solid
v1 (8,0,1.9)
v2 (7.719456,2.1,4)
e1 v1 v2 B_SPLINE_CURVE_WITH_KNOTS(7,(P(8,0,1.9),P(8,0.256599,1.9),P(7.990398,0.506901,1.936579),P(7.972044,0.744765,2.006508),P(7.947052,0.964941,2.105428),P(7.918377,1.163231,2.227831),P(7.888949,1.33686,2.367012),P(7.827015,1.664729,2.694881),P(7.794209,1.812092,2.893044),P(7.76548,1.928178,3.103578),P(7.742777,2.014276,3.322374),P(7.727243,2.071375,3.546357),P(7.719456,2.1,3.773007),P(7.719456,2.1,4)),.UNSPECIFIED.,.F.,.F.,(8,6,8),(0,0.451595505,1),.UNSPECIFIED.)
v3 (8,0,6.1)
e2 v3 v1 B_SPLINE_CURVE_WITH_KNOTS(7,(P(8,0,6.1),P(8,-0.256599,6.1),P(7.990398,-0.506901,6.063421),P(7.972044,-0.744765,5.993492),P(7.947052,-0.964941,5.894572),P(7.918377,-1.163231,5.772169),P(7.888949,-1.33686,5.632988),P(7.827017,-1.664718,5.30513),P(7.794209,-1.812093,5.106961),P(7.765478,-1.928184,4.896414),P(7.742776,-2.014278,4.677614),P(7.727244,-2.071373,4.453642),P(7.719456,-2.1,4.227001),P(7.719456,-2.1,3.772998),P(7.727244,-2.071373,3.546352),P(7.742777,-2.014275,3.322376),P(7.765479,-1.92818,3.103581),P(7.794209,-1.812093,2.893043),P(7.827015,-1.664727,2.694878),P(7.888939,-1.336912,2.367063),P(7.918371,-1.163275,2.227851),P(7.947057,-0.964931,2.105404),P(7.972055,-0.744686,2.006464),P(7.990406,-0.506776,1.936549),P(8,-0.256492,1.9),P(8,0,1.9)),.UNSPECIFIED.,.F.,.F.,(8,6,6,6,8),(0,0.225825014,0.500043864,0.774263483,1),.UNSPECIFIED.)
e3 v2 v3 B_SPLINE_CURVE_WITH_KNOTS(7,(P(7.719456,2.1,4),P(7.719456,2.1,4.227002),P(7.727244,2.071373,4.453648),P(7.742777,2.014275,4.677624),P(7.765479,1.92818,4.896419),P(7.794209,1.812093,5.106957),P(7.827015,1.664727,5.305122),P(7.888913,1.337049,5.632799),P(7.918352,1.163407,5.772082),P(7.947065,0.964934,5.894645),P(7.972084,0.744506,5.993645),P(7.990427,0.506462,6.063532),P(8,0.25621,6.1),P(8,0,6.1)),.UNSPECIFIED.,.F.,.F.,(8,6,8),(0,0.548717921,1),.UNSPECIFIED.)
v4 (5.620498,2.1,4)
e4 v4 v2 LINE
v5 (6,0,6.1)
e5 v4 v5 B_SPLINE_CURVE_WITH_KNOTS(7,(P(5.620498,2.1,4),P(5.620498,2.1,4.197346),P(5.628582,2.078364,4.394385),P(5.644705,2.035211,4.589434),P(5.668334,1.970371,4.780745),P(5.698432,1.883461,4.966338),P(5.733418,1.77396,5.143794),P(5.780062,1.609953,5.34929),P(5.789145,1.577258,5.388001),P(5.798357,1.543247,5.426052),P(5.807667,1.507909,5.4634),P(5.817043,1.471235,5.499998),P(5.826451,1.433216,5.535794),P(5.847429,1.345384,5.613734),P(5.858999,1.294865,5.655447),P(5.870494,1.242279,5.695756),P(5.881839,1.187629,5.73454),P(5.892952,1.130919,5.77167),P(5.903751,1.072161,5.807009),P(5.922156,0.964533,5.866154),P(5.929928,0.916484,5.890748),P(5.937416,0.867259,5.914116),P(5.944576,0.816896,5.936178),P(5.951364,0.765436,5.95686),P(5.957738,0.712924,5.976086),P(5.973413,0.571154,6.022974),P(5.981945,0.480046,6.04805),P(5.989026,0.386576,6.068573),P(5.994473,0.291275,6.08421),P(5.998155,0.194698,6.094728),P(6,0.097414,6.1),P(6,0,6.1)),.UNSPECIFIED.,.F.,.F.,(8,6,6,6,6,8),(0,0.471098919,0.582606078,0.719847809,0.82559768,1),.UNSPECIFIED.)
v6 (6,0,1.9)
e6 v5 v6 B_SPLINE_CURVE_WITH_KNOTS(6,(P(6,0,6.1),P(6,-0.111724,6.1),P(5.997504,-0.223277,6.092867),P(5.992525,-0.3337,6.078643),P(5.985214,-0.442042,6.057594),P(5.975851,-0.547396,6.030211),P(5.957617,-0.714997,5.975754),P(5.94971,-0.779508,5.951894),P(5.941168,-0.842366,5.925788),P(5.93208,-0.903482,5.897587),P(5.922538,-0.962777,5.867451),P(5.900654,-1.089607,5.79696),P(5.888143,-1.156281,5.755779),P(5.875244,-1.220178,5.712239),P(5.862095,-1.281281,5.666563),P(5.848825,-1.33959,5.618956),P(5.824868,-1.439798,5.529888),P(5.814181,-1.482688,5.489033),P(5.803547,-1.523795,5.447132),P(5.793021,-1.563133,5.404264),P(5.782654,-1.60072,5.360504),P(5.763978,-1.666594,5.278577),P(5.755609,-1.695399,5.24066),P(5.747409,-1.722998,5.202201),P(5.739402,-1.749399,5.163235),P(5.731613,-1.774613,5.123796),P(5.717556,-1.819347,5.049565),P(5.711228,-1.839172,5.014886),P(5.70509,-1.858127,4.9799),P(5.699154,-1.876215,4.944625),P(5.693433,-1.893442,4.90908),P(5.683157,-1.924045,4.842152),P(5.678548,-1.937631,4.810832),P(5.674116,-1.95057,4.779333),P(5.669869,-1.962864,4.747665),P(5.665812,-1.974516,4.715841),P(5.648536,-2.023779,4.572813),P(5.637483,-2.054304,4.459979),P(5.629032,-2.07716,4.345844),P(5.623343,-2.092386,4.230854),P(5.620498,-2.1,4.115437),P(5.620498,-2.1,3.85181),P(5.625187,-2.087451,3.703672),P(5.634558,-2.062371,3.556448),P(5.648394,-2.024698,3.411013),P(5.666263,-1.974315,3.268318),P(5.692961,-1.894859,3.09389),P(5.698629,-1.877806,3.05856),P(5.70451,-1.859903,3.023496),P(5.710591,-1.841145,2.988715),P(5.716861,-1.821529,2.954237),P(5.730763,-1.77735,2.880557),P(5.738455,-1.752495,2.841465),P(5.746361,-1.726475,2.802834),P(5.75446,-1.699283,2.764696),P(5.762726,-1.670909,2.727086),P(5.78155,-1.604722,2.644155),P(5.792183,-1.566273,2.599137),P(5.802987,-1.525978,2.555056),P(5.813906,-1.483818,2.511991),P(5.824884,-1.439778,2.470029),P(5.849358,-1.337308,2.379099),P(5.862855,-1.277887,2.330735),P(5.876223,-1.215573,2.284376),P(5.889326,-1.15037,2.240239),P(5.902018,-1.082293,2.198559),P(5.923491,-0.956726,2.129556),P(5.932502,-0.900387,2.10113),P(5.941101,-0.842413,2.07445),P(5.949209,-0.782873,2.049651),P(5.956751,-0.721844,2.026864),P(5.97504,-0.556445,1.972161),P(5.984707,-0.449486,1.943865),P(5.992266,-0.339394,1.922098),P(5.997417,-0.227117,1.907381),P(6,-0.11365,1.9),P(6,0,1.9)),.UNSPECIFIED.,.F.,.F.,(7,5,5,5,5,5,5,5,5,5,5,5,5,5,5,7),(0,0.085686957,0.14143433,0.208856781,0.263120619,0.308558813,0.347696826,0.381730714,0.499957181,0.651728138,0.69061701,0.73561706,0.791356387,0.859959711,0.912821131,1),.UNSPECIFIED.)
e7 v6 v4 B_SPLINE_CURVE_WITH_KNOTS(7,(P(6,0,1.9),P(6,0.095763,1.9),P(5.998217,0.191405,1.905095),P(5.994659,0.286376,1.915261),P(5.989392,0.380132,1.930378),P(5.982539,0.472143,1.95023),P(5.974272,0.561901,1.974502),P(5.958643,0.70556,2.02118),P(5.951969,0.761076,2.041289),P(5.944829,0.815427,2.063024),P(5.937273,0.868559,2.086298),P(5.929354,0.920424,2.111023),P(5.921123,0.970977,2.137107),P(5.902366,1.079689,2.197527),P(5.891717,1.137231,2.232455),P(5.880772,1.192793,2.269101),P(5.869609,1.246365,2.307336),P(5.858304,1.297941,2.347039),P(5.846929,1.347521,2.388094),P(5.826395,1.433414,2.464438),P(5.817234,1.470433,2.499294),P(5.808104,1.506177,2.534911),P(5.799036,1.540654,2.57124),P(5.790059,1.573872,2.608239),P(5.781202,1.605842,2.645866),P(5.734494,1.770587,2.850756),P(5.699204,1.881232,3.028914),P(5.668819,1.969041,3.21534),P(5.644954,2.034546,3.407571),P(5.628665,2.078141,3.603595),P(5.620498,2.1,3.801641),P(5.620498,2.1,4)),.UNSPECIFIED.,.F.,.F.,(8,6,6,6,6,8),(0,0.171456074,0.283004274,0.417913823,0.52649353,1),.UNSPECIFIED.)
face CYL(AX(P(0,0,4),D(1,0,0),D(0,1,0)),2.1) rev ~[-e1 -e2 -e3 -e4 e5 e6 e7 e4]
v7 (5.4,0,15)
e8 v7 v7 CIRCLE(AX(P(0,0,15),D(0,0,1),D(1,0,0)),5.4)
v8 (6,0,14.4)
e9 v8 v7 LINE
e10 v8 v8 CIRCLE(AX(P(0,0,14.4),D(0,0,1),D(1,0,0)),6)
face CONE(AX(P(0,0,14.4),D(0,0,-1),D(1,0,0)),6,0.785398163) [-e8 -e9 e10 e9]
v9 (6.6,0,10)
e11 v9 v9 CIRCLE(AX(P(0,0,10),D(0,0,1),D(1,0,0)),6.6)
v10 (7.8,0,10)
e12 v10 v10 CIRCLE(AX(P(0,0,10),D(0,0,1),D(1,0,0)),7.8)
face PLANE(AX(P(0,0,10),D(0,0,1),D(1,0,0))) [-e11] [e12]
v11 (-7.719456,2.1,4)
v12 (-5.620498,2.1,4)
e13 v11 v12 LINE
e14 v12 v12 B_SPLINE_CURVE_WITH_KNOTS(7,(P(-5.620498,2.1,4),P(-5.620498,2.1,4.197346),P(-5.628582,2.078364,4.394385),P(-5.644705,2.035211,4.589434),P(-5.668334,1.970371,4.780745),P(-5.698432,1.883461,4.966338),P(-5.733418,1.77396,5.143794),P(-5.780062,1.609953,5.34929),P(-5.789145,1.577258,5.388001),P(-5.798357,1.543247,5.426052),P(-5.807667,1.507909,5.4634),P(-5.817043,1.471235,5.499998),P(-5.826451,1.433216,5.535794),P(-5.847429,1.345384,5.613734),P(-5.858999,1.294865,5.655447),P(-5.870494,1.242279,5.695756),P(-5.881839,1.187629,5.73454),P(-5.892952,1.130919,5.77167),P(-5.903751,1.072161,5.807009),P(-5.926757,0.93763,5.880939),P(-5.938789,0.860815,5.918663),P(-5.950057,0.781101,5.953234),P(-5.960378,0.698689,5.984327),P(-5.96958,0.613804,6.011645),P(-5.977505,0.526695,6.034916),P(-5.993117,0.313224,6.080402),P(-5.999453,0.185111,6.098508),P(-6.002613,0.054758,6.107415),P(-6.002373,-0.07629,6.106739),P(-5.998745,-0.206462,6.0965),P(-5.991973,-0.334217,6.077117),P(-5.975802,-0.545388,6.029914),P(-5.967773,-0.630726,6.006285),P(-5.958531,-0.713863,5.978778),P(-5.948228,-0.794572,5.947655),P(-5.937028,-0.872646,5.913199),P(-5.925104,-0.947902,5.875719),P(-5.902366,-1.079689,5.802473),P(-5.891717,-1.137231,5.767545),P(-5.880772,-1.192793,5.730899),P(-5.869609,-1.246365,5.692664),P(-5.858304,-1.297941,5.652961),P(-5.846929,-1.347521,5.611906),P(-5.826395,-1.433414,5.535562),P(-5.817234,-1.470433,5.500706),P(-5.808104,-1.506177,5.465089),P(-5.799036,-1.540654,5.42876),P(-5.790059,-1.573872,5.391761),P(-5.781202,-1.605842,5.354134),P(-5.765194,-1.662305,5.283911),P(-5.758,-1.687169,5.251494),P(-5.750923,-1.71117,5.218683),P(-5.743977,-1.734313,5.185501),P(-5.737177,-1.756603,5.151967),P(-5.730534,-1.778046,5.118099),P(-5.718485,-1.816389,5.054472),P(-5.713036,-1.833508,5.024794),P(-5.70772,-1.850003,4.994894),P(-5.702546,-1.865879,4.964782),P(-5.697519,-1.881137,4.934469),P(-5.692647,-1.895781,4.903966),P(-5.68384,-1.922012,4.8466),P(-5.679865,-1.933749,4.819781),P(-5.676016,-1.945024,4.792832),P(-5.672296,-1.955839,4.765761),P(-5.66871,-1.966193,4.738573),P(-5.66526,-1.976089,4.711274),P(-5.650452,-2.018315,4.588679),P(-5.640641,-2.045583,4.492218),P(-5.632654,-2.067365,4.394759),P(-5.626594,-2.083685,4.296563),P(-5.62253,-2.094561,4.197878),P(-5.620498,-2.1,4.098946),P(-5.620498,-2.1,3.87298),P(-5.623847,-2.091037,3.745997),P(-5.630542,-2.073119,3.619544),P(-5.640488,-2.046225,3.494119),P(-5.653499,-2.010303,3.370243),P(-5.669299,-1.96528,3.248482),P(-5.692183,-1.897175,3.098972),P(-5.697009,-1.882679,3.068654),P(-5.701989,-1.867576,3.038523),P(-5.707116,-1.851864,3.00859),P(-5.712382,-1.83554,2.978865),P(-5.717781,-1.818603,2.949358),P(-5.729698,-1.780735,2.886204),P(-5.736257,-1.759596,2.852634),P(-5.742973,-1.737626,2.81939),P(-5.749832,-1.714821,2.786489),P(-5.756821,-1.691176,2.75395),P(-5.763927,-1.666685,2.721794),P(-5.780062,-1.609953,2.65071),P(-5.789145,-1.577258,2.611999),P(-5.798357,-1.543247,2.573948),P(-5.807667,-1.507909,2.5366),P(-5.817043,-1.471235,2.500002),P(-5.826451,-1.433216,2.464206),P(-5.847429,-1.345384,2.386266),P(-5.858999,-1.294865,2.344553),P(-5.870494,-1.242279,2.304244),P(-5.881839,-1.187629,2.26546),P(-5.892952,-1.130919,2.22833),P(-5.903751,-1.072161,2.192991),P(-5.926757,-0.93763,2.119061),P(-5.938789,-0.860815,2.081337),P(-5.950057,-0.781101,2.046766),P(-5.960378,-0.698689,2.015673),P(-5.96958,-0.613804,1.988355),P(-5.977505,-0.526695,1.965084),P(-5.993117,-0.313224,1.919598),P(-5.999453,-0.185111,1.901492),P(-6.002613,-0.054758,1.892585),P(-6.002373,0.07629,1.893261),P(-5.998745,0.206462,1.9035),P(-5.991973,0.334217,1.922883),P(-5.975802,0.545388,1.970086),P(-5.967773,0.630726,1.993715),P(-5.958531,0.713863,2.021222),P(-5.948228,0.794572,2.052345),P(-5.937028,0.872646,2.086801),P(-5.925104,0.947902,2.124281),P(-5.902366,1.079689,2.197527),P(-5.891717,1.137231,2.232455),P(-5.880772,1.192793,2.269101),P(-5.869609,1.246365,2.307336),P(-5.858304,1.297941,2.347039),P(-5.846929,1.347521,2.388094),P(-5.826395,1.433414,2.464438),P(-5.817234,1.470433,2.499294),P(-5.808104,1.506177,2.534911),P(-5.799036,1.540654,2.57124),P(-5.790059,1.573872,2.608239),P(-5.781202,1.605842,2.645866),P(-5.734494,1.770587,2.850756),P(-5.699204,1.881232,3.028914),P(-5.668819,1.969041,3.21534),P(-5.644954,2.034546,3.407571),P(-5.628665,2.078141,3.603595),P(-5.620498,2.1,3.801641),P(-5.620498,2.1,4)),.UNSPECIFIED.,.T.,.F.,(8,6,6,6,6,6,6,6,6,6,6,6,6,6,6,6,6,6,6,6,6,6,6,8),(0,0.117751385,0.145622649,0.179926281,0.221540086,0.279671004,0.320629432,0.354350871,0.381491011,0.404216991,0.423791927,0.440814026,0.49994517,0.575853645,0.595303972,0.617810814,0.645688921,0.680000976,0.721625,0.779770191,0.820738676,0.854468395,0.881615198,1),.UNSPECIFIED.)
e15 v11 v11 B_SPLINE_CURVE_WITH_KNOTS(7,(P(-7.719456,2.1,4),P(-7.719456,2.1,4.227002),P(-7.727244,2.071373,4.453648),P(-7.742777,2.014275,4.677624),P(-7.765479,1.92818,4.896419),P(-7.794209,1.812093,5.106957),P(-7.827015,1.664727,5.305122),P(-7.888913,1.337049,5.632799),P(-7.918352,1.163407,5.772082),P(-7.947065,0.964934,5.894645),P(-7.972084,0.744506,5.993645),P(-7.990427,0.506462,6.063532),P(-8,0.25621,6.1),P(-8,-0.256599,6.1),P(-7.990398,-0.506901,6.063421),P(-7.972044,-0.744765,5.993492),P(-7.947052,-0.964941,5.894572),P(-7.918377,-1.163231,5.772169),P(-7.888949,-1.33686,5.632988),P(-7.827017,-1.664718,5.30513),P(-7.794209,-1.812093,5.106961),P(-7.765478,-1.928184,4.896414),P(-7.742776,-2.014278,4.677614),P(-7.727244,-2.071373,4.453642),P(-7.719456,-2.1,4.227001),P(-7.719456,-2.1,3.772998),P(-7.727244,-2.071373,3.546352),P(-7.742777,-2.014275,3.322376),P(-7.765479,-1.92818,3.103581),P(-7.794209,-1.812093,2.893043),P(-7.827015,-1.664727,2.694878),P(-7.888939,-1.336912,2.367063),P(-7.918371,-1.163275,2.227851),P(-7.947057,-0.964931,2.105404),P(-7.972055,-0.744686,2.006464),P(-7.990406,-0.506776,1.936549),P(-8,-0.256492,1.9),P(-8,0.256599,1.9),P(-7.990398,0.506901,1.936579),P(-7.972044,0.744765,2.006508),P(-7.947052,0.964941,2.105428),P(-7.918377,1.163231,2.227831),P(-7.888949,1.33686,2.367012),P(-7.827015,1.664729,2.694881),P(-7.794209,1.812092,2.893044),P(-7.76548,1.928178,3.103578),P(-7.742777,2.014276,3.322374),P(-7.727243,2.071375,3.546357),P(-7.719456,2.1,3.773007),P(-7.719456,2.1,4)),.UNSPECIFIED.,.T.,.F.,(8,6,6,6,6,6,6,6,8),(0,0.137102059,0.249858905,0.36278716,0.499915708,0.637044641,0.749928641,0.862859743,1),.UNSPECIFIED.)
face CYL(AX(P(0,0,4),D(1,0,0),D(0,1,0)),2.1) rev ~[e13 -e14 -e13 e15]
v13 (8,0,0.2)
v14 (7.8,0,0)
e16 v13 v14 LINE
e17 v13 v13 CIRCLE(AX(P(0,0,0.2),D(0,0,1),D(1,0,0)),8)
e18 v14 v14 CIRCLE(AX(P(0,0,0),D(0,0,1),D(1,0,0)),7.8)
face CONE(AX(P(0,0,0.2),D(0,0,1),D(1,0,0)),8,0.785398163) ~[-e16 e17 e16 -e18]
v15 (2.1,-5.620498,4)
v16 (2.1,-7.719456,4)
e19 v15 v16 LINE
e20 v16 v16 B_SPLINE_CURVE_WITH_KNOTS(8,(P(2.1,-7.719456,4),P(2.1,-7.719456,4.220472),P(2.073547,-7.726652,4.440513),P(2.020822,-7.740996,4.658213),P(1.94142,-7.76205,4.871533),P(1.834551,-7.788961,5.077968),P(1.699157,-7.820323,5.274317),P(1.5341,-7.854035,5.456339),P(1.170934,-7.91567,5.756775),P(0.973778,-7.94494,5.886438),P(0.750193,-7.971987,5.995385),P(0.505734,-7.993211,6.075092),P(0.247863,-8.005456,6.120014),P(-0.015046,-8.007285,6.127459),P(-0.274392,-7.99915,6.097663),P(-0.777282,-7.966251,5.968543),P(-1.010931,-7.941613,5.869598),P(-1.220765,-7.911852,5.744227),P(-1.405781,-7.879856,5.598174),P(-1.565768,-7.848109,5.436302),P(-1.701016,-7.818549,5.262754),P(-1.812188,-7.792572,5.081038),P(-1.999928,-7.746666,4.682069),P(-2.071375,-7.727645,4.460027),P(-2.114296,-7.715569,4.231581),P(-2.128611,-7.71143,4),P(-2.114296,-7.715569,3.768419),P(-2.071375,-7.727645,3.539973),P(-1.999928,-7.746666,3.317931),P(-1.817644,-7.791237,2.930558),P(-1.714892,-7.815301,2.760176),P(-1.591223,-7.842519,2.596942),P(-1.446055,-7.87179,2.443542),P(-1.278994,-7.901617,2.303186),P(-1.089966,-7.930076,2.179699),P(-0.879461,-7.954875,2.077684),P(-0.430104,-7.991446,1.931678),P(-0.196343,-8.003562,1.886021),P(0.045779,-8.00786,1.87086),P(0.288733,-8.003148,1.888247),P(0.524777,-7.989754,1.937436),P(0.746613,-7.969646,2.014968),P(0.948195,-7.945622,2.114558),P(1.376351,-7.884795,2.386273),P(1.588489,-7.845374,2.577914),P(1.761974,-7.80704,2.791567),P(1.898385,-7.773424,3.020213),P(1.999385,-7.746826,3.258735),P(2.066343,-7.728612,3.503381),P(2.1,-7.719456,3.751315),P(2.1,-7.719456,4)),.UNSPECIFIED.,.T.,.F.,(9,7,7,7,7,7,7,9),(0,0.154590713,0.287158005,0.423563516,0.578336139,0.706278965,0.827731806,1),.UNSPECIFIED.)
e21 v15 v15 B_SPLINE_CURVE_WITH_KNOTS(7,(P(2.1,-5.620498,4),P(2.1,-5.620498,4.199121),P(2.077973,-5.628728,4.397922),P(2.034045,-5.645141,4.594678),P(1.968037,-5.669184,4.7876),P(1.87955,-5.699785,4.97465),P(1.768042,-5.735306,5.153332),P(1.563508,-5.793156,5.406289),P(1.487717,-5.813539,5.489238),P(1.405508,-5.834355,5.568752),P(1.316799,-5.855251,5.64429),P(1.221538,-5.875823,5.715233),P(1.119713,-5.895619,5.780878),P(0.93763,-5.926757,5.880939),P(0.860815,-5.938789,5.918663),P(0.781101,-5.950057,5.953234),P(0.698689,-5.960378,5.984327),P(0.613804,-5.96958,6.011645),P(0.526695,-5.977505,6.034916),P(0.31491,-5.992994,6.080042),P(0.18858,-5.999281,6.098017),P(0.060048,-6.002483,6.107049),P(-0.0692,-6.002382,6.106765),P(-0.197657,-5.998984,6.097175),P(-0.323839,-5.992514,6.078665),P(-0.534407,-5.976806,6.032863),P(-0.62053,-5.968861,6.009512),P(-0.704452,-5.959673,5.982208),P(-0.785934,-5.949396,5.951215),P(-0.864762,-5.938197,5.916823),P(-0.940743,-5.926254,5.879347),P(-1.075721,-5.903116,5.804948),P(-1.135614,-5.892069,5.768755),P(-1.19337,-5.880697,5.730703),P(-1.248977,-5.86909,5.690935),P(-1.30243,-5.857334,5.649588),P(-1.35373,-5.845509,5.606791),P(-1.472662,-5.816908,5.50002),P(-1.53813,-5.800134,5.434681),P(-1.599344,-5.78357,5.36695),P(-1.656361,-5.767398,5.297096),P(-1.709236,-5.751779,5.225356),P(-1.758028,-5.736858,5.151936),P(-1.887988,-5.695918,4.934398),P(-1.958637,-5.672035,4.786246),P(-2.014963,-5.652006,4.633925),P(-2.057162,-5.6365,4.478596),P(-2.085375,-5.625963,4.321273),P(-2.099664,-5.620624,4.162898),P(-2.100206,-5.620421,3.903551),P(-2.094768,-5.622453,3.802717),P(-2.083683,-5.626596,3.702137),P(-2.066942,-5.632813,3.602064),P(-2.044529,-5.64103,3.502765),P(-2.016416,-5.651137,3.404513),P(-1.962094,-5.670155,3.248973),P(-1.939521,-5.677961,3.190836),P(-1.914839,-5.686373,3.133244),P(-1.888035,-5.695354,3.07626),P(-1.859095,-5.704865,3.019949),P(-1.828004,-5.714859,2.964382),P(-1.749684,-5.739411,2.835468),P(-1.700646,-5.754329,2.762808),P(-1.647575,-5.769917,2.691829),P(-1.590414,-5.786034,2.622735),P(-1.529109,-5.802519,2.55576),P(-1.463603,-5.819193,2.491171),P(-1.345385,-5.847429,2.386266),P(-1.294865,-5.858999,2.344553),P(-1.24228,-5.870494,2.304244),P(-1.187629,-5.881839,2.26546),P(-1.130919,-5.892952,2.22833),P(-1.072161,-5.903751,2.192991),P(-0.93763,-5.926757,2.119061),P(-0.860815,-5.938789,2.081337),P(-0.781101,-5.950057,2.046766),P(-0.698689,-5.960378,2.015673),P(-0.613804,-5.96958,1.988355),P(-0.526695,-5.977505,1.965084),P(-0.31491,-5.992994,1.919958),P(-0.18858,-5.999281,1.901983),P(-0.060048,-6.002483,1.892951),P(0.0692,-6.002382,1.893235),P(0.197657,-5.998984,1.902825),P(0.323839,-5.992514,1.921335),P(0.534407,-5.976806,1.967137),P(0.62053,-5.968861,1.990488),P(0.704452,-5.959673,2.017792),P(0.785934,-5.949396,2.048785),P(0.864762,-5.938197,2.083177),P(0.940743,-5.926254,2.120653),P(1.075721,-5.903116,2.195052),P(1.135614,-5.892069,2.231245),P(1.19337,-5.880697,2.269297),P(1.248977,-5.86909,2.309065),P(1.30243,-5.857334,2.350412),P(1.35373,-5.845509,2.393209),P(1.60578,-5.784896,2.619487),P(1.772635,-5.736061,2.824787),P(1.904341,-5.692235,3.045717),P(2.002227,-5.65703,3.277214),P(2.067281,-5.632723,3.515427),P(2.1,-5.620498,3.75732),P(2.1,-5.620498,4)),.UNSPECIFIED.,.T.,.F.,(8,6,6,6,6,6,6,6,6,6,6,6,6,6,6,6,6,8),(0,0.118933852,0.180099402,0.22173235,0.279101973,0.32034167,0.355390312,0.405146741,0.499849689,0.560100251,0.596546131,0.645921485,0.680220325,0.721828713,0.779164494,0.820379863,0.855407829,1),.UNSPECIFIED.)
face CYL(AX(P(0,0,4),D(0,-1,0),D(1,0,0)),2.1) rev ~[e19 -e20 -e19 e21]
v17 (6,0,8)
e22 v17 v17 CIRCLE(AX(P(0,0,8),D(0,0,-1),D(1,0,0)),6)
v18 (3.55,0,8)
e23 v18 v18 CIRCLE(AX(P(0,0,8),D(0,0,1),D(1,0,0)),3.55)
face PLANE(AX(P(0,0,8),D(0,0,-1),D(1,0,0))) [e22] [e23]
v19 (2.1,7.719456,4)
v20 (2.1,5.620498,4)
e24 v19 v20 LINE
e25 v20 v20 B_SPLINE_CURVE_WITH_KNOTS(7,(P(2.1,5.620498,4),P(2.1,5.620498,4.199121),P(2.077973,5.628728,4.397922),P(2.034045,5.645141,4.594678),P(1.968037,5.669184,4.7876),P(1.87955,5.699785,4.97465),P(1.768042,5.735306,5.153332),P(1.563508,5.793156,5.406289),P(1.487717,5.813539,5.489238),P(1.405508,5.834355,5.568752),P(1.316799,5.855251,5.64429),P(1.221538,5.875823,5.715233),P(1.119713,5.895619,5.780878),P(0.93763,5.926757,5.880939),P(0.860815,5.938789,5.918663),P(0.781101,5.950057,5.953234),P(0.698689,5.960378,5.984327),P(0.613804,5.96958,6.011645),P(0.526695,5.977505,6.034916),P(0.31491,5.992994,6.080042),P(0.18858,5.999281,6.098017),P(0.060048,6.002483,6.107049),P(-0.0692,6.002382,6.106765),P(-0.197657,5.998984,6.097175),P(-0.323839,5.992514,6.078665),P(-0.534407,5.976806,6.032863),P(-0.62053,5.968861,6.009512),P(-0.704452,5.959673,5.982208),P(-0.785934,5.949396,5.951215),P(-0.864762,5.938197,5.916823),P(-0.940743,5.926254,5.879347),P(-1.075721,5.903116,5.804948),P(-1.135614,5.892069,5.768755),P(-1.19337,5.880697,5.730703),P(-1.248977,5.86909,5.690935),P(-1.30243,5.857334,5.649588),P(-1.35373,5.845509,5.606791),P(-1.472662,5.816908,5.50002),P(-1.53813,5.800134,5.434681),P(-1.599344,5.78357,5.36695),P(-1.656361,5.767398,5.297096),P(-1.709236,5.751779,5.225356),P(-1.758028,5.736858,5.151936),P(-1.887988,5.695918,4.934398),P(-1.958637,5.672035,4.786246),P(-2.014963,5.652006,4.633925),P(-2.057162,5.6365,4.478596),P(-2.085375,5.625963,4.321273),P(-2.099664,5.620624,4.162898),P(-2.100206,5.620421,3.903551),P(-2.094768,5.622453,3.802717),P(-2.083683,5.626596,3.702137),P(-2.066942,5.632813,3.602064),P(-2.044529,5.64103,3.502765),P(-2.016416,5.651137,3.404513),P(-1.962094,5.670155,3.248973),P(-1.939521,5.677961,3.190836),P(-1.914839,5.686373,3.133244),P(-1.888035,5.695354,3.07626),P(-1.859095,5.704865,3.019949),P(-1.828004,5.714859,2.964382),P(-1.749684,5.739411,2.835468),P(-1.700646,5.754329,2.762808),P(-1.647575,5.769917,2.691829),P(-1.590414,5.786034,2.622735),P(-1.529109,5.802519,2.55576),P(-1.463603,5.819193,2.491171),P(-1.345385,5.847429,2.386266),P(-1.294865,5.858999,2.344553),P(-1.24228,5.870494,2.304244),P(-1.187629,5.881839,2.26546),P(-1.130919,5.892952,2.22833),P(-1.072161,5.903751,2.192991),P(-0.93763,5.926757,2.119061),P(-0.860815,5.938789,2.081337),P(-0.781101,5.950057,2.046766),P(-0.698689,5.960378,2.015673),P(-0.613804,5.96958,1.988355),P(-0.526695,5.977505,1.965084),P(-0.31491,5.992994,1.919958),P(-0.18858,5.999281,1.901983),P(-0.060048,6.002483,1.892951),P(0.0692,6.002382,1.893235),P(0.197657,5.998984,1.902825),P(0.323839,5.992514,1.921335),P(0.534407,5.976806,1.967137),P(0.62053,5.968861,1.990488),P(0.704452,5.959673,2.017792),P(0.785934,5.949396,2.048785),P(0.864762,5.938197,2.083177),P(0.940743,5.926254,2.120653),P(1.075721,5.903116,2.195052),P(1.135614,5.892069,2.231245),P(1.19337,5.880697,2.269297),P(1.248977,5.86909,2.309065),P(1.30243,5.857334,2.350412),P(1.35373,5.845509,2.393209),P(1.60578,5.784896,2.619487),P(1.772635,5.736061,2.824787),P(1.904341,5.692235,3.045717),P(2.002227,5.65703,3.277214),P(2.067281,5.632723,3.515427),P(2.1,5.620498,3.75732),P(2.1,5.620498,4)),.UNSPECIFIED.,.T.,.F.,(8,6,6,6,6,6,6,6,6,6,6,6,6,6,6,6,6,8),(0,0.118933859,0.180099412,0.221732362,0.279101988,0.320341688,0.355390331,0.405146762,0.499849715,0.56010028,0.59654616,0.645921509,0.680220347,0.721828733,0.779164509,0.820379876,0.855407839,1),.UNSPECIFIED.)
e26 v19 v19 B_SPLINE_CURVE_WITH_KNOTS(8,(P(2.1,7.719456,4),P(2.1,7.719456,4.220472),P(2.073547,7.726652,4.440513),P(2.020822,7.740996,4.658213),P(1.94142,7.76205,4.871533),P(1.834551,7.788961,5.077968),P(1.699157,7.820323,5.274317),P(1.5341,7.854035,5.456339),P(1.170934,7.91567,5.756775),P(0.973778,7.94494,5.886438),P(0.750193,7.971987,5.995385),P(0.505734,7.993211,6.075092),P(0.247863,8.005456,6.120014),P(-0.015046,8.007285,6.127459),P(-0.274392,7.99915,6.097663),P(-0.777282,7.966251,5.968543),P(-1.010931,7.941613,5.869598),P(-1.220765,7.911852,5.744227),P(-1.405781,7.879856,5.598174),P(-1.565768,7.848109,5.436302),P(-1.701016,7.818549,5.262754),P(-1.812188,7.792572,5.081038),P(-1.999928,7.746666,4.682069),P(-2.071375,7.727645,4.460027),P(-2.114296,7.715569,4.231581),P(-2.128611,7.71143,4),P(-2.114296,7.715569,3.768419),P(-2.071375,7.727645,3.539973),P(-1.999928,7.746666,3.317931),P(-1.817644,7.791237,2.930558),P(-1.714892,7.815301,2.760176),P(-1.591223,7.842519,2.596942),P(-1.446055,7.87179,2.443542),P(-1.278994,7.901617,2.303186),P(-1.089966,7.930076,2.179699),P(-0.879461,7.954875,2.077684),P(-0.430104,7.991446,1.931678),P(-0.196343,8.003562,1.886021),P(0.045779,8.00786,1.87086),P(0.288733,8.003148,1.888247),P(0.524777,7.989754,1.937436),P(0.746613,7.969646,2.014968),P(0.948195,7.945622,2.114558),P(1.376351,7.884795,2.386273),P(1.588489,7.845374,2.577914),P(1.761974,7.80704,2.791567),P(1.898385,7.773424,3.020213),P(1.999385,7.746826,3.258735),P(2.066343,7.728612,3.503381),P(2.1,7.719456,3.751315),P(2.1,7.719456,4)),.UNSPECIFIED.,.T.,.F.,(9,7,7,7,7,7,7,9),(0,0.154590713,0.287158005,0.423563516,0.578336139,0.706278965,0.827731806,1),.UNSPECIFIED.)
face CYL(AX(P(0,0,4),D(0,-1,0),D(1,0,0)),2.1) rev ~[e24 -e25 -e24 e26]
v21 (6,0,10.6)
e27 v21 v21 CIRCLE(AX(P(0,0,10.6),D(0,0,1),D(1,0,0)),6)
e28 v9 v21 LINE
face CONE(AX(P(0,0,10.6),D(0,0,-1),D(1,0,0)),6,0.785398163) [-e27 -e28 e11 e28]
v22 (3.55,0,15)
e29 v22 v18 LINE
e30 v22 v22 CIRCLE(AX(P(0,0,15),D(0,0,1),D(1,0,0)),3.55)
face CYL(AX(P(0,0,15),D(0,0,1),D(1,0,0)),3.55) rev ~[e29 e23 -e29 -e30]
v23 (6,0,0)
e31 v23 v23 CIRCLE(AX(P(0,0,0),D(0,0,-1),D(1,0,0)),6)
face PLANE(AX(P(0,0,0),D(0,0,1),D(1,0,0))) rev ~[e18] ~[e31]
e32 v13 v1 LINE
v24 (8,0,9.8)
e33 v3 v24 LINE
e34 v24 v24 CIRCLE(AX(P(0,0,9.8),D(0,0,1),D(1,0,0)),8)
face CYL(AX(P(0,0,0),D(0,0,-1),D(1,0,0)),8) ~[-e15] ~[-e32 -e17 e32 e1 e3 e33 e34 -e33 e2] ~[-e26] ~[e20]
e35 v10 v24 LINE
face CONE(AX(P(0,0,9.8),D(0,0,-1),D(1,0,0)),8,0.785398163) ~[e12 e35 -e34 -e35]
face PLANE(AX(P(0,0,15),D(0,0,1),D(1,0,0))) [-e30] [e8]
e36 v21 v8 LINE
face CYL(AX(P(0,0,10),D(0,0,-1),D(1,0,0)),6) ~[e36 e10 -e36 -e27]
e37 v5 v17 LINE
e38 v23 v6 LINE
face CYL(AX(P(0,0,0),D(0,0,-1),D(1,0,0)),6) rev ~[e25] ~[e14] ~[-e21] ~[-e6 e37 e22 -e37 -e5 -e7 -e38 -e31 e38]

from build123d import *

# Parameters (mm, degrees)
SKETCH_R        = 8
PAD_DEPTH       = 10
SKETCH001_R     = 6
PAD001_DEPTH    = 5
SKETCH002_R     = 3.55
POCKET_DEPTH    = 20
SKETCH003_R     = 6
POCKET001_DEPTH = 8
SKETCH004_R     = 2.1
POCKET002_DEPTH = 50
SKETCH005_R     = 2.1
POCKET003_DEPTH = 50
CHAMFER_SIZE    = 0.6
CHAMFER001_SIZE = 0.2
CHAMFER002_SIZE = 0.2


with BuildPart() as part:
    # Sketch → Pad (new body)
    with BuildSketch(Plane.XY):
        Circle(SKETCH_R)
    extrude(amount=PAD_DEPTH)

    # Sketch001 (on Face3 of Pad) → Pad001 (join)
    with BuildSketch(Plane.XY.offset(10)):
        Circle(SKETCH001_R)
    extrude(amount=PAD001_DEPTH)

    # Sketch002 (on Face5 of Pad001) → Pocket (cut)
    with BuildSketch(Plane.XY.offset(15)):
        Circle(SKETCH002_R)
    extrude(amount=-POCKET_DEPTH, mode=Mode.SUBTRACT)

    # Sketch003 (on Face2 of Pocket) → Pocket001 (cut)
    with BuildSketch(Plane(origin=(0, 0, 0), x_dir=(1, 0, 0), z_dir=(0, 0, -1))):
        Circle(SKETCH003_R)
    extrude(amount=-POCKET001_DEPTH, mode=Mode.SUBTRACT)

    # Sketch004 → Pocket002 (cut, symmetric)
    with BuildSketch(Plane.XZ):
        with Locations((0, 4)):
            Circle(SKETCH004_R)
    extrude(amount=POCKET002_DEPTH, both=True, mode=Mode.SUBTRACT)

    # Sketch005 → Pocket003 (cut, symmetric)
    with BuildSketch(Plane.YZ):
        with Locations((0, 4)):
            Circle(SKETCH005_R)
    extrude(amount=POCKET003_DEPTH, both=True, mode=Mode.SUBTRACT)

    # Chamfer
    chamfer_edges = [part.edges().sort_by_distance(p)[0] for p in [
        (6, 0, 12.5),
        (-6, 0, 10),
        (-6, 0, 15),
    ]]
    chamfer(chamfer_edges, length=CHAMFER_SIZE)

    # Chamfer001
    chamfer001_edges = [part.edges().sort_by_distance(p)[0] for p in [
        (-8, 0, 10),
    ]]
    chamfer(chamfer001_edges, length=CHAMFER001_SIZE)

    # Chamfer002
    chamfer002_edges = [part.edges().sort_by_distance(p)[0] for p in [
        (-8, 0, 0),
    ]]
    chamfer(chamfer002_edges, length=CHAMFER002_SIZE)


solid = part.part
